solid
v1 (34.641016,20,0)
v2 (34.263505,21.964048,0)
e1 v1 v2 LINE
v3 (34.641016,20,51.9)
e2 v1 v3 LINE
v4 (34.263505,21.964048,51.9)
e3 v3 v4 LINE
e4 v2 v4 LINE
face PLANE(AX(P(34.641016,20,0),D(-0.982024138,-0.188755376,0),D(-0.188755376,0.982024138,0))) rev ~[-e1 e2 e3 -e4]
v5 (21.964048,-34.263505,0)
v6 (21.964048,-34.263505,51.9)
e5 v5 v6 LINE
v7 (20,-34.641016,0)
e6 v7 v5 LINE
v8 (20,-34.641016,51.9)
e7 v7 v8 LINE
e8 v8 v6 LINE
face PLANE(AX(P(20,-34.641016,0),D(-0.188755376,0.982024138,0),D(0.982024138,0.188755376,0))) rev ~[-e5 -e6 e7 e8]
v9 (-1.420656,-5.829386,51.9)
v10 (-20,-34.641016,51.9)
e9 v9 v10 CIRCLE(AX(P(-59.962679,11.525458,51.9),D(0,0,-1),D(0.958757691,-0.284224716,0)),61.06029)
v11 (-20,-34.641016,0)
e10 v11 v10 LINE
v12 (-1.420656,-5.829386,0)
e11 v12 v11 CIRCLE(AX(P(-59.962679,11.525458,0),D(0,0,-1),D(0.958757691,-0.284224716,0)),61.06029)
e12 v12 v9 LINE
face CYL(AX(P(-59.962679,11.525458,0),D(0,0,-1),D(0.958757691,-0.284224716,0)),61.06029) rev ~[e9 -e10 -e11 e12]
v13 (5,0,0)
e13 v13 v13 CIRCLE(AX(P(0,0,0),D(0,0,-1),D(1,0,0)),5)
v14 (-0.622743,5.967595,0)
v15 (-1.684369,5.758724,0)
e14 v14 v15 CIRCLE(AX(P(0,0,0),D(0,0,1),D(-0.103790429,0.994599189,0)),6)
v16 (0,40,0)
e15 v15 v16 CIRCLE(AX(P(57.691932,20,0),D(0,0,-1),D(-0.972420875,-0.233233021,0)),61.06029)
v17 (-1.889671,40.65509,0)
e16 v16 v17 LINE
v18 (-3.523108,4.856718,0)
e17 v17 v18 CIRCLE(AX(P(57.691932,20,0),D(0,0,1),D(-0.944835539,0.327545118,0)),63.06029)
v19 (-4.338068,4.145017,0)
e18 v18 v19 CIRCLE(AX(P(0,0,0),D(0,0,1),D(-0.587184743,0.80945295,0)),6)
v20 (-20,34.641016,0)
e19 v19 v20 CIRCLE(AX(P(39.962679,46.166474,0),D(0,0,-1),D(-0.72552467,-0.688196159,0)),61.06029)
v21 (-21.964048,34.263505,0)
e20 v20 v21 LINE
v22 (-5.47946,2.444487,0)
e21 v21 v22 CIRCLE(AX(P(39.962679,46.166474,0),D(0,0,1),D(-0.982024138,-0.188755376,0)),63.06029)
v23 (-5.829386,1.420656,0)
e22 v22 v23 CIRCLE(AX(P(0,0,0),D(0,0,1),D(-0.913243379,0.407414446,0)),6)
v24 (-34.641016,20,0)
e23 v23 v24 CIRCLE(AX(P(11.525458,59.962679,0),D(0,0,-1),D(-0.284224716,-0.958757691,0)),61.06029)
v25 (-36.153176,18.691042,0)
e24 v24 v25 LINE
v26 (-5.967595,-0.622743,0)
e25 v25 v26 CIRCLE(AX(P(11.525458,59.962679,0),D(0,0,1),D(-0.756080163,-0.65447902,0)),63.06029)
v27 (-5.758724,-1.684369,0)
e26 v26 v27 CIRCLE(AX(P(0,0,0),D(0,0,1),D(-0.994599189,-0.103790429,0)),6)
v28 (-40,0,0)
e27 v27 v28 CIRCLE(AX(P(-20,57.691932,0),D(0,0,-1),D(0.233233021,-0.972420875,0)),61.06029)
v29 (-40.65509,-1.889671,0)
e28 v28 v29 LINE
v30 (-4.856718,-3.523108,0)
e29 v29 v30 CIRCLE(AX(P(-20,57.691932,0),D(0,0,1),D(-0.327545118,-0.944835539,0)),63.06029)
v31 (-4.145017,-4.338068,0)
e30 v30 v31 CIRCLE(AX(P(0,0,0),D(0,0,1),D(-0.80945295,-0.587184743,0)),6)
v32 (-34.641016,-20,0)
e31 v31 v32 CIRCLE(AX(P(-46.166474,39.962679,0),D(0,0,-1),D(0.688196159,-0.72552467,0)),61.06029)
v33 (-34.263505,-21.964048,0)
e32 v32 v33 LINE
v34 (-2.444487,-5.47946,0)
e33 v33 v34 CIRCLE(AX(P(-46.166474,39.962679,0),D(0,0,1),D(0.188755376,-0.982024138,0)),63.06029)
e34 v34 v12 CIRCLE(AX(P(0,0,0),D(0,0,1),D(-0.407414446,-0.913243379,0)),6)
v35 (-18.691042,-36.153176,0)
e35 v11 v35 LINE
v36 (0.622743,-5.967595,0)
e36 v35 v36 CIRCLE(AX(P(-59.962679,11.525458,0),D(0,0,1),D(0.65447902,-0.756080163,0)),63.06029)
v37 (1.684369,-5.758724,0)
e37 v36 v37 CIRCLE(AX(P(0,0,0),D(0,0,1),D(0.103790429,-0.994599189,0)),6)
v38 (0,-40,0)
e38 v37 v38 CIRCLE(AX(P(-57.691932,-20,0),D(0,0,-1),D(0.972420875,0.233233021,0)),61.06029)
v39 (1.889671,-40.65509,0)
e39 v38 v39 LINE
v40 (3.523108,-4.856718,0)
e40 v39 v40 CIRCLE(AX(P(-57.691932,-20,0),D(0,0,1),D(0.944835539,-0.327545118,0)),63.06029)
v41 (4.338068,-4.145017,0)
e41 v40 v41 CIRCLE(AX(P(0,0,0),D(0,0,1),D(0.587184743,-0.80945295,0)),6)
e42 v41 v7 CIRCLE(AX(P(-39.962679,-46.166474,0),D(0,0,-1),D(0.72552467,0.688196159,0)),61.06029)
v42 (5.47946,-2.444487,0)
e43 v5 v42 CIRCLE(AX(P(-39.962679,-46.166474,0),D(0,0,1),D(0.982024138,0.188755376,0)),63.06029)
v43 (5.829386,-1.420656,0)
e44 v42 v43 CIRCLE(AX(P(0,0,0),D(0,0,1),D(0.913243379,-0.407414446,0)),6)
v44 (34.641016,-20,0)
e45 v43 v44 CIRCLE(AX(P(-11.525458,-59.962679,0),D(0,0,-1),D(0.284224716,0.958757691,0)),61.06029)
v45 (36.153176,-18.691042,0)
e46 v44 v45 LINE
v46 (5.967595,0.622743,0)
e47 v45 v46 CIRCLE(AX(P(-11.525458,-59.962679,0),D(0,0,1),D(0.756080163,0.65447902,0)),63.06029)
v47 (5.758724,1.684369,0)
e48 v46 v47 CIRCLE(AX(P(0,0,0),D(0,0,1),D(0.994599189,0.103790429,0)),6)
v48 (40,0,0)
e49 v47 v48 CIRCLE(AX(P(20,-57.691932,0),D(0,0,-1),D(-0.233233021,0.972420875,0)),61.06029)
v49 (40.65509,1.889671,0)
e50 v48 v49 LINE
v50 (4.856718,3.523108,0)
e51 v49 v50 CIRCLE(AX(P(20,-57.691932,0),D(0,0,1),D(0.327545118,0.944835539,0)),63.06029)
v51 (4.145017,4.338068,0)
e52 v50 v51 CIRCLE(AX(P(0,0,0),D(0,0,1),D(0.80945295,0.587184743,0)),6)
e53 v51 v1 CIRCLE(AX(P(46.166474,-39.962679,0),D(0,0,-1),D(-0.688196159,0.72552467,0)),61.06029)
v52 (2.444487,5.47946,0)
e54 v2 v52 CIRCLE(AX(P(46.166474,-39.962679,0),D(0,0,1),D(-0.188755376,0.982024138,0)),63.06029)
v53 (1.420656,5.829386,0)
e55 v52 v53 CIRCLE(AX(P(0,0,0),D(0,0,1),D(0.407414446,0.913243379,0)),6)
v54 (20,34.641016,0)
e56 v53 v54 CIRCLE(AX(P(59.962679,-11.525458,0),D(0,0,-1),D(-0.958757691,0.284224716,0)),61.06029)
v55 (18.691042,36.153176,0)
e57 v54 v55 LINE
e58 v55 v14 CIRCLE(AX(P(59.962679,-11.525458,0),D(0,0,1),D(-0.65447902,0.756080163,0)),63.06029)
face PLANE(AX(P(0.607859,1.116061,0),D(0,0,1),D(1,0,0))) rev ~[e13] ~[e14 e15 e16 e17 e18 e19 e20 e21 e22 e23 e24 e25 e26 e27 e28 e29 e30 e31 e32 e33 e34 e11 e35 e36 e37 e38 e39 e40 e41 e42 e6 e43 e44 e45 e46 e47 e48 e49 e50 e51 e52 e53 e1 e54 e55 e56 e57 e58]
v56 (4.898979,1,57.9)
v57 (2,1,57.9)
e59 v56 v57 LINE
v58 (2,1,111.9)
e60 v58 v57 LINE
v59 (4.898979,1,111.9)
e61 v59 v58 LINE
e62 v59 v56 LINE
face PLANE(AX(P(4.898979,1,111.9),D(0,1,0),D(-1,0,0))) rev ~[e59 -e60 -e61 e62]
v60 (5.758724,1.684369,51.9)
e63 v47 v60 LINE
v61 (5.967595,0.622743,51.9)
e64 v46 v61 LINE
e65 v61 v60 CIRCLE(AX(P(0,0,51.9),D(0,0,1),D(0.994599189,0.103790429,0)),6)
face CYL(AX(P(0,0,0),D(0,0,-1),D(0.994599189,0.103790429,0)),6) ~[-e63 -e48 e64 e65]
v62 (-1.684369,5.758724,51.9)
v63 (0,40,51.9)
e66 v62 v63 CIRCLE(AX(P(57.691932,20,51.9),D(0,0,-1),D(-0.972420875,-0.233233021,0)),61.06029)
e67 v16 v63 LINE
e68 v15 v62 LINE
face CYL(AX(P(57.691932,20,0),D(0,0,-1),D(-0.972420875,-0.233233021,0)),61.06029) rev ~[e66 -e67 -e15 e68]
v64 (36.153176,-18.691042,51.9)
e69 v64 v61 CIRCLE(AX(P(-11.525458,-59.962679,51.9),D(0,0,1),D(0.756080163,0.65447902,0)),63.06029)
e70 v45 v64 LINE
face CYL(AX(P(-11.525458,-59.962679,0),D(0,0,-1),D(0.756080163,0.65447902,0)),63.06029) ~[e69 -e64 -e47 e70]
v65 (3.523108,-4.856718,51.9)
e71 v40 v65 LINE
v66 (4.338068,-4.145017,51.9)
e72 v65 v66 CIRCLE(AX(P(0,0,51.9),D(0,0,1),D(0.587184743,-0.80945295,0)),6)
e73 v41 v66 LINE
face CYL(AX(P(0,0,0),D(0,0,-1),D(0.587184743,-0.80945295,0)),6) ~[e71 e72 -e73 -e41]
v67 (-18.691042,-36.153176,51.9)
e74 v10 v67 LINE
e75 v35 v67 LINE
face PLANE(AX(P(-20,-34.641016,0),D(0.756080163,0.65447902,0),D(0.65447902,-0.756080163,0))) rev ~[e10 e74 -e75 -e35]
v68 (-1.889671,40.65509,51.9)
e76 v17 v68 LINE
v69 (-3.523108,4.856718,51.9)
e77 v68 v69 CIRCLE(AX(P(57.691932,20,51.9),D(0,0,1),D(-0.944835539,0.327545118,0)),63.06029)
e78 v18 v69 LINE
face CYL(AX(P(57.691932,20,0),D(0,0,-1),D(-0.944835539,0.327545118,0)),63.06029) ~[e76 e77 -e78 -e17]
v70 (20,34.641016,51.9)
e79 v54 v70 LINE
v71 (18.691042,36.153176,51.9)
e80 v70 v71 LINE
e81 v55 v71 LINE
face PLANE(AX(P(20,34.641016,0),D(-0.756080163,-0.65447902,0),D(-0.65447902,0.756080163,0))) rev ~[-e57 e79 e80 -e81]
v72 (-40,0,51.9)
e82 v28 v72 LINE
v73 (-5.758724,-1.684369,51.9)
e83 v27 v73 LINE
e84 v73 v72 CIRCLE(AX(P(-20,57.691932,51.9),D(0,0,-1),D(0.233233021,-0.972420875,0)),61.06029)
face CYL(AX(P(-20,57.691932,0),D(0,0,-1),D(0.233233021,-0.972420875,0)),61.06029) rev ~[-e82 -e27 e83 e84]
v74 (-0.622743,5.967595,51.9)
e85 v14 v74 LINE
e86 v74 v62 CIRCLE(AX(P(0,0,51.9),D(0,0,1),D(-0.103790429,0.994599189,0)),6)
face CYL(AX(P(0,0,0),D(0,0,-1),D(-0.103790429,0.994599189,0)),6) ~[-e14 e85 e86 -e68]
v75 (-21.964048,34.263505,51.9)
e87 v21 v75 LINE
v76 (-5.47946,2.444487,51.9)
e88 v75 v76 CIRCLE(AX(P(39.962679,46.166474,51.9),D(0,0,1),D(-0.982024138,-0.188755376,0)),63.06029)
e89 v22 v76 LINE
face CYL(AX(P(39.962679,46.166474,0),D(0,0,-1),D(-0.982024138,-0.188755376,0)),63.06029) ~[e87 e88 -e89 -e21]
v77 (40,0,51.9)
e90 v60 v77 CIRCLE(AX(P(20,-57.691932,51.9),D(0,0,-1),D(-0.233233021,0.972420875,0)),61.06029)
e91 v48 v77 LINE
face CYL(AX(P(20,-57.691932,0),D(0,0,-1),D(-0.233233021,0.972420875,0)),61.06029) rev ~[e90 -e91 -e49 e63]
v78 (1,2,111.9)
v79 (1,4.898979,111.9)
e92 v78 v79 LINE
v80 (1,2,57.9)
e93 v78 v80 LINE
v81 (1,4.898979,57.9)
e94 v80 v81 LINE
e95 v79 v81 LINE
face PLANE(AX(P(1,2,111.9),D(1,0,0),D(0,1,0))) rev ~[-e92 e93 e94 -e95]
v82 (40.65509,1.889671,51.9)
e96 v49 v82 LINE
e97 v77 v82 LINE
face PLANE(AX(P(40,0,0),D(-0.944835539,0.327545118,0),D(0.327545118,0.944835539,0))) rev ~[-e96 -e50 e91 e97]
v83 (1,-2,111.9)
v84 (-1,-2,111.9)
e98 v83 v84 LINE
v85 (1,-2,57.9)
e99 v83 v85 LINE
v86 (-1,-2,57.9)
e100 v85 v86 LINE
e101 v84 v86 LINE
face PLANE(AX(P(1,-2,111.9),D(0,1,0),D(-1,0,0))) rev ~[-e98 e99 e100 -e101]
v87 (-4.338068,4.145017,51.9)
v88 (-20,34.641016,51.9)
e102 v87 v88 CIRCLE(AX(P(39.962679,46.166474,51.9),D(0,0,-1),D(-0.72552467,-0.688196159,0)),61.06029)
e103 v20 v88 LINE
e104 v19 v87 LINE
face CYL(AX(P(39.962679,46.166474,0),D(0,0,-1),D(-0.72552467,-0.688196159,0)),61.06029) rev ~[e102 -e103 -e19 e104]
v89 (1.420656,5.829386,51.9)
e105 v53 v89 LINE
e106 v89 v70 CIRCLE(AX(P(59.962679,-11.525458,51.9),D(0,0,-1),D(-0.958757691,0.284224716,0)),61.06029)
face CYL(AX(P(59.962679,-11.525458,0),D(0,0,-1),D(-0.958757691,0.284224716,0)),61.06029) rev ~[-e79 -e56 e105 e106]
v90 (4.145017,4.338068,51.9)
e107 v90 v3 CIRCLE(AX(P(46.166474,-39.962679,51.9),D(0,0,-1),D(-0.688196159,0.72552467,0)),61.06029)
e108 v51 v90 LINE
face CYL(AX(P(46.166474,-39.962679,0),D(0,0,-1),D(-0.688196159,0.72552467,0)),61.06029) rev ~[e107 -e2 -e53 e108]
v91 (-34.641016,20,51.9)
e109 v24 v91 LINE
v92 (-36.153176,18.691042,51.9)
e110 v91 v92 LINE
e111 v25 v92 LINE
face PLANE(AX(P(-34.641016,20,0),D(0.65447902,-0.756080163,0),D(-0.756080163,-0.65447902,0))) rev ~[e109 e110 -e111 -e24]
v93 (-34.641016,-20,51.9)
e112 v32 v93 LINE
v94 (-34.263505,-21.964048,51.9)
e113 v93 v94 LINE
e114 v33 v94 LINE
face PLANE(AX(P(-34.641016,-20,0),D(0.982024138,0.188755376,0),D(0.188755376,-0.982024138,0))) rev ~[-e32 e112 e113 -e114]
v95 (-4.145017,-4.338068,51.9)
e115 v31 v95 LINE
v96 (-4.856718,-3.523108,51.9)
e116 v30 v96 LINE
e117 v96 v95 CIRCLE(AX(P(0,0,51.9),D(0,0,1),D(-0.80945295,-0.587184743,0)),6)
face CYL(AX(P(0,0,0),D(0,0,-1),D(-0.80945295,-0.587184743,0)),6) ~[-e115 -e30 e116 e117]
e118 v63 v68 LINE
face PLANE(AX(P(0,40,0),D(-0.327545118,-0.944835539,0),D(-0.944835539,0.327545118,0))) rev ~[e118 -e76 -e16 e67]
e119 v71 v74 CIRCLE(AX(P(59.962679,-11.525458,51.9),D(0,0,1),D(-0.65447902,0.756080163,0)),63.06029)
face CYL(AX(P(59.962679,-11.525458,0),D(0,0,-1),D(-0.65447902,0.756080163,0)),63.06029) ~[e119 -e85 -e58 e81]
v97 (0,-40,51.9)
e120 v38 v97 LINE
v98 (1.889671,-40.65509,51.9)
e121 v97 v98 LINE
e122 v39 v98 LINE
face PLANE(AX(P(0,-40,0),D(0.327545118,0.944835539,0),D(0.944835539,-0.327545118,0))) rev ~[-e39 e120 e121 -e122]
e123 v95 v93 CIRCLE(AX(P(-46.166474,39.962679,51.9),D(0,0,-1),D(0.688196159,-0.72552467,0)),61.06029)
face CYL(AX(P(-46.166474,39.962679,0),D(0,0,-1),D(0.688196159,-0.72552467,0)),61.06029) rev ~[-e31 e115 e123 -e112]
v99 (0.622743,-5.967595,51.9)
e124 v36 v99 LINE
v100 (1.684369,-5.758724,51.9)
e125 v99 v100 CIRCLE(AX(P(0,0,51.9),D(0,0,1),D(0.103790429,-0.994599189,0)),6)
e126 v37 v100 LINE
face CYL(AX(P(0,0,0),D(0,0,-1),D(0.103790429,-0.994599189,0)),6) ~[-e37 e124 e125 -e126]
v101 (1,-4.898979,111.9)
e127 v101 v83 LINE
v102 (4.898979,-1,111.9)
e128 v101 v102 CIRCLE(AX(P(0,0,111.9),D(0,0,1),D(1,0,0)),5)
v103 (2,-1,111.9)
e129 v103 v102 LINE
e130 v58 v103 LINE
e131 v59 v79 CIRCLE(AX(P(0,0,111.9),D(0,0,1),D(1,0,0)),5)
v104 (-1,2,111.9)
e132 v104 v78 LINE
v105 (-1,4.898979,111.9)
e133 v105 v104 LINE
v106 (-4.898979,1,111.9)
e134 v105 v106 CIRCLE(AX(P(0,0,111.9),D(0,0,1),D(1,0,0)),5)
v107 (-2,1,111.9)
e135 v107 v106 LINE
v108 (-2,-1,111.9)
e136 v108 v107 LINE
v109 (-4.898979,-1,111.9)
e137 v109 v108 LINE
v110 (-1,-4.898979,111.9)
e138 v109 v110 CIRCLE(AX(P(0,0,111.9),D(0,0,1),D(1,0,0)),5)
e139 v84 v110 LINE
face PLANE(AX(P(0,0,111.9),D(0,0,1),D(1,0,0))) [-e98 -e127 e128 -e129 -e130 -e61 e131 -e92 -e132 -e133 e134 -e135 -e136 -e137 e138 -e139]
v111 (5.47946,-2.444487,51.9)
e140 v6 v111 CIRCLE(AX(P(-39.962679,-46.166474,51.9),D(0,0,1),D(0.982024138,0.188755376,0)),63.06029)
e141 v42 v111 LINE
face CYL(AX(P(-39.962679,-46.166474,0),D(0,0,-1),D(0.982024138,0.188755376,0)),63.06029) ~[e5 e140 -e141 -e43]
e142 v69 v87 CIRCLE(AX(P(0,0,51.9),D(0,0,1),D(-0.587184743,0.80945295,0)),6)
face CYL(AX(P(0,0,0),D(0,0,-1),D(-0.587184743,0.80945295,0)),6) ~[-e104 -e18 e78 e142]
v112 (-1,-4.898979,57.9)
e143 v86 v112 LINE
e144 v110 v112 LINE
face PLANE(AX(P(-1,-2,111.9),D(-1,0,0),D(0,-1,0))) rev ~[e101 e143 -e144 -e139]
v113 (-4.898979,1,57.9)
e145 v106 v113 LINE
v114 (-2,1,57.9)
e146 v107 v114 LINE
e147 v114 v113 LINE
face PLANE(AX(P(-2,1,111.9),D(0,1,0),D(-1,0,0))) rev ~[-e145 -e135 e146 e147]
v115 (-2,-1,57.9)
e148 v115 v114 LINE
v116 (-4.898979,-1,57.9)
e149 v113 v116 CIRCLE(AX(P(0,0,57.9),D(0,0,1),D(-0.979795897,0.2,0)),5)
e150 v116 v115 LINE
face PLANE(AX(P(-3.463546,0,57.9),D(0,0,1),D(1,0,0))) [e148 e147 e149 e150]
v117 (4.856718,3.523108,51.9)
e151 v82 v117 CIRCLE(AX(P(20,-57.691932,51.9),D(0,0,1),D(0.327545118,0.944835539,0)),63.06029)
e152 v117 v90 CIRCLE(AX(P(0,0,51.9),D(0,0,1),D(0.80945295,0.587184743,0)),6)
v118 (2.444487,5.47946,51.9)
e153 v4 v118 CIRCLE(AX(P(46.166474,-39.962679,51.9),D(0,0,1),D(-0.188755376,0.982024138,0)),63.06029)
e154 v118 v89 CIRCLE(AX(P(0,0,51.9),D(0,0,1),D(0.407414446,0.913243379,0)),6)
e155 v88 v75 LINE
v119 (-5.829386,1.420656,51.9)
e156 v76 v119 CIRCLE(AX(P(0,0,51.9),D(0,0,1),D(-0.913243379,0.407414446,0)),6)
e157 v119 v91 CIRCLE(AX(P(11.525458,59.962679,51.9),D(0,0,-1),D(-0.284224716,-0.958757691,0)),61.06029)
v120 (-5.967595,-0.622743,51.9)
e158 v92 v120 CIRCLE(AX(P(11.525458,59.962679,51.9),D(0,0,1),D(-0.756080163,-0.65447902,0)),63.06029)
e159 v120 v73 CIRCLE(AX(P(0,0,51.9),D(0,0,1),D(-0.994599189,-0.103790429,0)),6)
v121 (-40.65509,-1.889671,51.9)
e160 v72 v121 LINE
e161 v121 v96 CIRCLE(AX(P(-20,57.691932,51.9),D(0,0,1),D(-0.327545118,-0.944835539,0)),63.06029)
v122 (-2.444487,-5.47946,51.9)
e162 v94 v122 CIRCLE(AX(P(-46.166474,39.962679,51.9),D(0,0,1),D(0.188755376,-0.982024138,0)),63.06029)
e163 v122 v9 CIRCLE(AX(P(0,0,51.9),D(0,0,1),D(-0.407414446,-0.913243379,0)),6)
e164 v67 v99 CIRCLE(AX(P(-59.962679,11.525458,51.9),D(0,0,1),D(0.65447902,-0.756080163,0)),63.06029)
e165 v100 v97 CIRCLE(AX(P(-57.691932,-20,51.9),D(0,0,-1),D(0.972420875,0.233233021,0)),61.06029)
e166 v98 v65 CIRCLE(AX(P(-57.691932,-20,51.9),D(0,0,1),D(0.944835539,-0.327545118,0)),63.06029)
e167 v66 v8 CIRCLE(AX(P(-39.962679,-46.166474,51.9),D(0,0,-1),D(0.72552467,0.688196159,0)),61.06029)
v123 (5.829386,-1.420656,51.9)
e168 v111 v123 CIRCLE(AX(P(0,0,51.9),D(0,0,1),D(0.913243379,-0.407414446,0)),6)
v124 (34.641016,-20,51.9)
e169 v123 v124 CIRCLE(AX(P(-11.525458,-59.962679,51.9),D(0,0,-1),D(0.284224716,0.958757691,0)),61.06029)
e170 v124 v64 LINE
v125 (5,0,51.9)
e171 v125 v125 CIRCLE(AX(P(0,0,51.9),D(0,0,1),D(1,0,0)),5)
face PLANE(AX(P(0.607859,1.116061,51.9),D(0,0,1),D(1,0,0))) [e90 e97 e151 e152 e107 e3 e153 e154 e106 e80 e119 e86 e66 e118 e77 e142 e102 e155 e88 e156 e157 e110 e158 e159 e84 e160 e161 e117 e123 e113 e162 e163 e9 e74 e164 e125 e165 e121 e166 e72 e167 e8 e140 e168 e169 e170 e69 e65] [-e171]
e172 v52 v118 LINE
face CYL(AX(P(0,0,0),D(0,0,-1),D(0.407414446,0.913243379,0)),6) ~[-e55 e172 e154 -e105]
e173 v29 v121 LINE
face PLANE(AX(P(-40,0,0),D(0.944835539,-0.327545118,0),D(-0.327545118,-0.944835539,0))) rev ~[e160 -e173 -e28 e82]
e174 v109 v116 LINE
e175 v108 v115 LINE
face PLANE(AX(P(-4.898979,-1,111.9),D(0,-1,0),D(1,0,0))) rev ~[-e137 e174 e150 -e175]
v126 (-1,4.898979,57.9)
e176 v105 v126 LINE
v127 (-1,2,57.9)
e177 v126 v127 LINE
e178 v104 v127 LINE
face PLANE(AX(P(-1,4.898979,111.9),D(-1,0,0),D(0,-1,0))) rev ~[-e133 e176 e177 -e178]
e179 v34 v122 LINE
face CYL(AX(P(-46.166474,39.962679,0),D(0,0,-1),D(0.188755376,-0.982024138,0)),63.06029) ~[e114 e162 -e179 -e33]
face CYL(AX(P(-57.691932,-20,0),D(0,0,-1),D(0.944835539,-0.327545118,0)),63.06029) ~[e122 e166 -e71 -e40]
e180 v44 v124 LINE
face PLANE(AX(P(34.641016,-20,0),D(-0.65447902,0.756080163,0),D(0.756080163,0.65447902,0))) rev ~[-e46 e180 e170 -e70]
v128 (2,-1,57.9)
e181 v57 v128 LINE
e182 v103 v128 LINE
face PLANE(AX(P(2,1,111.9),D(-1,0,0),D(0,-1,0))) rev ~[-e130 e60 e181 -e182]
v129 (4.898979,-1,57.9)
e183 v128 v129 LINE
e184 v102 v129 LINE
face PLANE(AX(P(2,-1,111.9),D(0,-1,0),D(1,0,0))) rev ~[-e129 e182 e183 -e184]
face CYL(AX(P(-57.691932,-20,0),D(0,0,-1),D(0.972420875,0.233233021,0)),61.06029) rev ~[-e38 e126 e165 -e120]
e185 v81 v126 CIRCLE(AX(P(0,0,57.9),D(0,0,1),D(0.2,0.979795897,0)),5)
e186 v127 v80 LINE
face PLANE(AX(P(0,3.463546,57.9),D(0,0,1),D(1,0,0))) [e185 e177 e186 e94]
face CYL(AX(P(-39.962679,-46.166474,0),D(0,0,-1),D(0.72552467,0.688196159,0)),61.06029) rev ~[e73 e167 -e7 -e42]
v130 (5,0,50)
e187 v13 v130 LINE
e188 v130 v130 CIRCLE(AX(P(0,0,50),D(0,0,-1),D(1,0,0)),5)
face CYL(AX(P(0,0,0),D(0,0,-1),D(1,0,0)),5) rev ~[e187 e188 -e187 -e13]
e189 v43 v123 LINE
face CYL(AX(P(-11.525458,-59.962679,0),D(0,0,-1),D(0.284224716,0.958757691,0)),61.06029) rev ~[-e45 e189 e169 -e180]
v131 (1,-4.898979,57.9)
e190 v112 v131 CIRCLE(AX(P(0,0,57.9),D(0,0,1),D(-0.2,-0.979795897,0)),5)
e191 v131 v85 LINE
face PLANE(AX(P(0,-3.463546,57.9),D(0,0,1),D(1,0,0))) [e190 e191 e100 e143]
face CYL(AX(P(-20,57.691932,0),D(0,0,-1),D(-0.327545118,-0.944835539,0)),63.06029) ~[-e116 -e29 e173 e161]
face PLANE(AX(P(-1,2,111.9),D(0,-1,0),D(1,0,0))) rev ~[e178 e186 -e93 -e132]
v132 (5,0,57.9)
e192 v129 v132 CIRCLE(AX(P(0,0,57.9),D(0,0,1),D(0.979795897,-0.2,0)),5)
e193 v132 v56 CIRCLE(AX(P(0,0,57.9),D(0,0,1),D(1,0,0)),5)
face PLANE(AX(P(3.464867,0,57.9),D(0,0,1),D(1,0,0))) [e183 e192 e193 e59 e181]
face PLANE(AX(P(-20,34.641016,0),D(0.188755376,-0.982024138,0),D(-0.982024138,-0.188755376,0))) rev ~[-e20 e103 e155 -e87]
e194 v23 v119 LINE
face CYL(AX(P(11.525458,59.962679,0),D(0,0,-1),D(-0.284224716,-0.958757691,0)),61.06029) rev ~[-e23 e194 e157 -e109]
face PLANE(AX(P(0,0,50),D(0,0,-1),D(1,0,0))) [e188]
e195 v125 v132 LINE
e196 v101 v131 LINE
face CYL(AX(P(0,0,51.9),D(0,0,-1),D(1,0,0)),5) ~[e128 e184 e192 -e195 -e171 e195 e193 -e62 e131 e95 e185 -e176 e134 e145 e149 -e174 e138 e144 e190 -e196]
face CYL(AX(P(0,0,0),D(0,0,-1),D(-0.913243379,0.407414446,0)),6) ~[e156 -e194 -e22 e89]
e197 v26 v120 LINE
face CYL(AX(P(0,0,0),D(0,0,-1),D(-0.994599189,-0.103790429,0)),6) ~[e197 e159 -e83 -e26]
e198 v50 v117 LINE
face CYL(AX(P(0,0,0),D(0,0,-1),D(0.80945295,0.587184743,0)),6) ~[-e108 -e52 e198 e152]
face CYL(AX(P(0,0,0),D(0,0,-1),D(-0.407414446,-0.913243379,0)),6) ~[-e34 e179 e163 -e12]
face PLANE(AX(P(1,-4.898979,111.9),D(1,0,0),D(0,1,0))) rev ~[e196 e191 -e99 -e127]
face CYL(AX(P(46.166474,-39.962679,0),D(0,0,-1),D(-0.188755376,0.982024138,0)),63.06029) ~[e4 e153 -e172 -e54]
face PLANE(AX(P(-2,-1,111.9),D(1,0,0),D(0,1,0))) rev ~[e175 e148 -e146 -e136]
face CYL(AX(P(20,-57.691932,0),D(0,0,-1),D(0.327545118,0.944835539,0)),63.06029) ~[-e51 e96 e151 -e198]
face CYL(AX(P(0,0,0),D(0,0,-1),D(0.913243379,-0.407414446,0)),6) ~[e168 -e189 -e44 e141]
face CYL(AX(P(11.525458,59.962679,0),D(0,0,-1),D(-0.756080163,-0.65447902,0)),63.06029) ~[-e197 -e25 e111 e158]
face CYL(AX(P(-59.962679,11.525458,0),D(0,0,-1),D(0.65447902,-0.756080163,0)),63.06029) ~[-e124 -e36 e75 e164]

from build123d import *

# Parameters (mm, degrees)
F1_DEPTH = 51.9
F2_R     = 5
F3_DEPTH = 50
F4_R     = 5
F5_DEPTH = 60
F7_DEPTH = 54


with BuildPart() as f1:
    # F0 (on Top) → F1 (new body)
    with BuildSketch(Plane.XY):
        with BuildLine():
            ThreePointArc((1.3337239415, 1.4907111791), (1.4431608729, 1.6087570846), (1.5529086216, 1.7265140778))
            ThreePointArc((1.5529086216, 1.7265140778), (0.9818308126, 1.8448281713), (0.4096832255, 1.9578557215))
            ThreePointArc((0.4096832255, 1.9578557215), (0.1968239575, 0.980605563), (0, 0))
            ThreePointArc((0, 0), (0.6607573288, 0.7508173499), (1.3337239415, 1.4907111791))
        make_face()
        with BuildLine():
            ThreePointArc((1.9003944045, 0.62413178), (2.05419252, 0.6716440673), (2.2081153549, 0.7187507406))
            ThreePointArc((2.2081153549, 0.7187507406), (1.7727045116, 1.1067526557), (1.3337239415, 1.4907111791))
            ThreePointArc((1.3337239415, 1.4907111791), (0.6607573288, 0.7508173499), (0, 0))
            ThreePointArc((0, 0), (0.9476413074, 0.3198482342), (1.9003944045, 0.62413178))
        make_face()
        with BuildLine():
            ThreePointArc((1.9578557215, -0.4096832255), (2.1148049403, -0.4454354354), (2.2716593622, -0.4816012771))
            ThreePointArc((2.2716593622, -0.4816012771), (2.0885834683, 0.0721236597), (1.9003944045, 0.62413178))
            ThreePointArc((1.9003944045, 0.62413178), (0.9476413074, 0.3198482342), (0, 0))
            ThreePointArc((0, 0), (0.980605563, -0.1968239575), (1.9578557215, -0.4096832255))
        make_face()
        with BuildLine():
            ThreePointArc((1.7265140778, -1.5529086216), (1.8448281713, -0.9818308126), (1.9578557215, -0.4096832255))
            ThreePointArc((1.9578557215, -0.4096832255), (0.980605563, -0.1968239575), (0, 0))
            ThreePointArc((0, 0), (0.7508173499, -0.6607573288), (1.4907111791, -1.3337239415))
            ThreePointArc((1.4907111791, -1.3337239415), (1.6087570846, -1.4431608729), (1.7265140778, -1.5529086216))
        make_face()
        with BuildLine():
            ThreePointArc((1.4907111791, -1.3337239415), (0.7508173499, -0.6607573288), (0, 0))
            ThreePointArc((0, 0), (0.3198482342, -0.9476413074), (0.62413178, -1.9003944045))
            ThreePointArc((0.62413178, -1.9003944045), (0.6716440673, -2.05419252), (0.7187507406, -2.2081153549))
            ThreePointArc((0.7187507406, -2.2081153549), (1.1067526557, -1.7727045116), (1.4907111791, -1.3337239415))
        make_face()
        with BuildLine():
            ThreePointArc((0.62413178, -1.9003944045), (0.3198482342, -0.9476413074), (0, 0))
            ThreePointArc((0, 0), (-0.1968239575, -0.980605563), (-0.4096832255, -1.9578557215))
            ThreePointArc((-0.4096832255, -1.9578557215), (-0.4454354354, -2.1148049403), (-0.4816012771, -2.2716593622))
            ThreePointArc((-0.4816012771, -2.2716593622), (0.0721236597, -2.0885834683), (0.62413178, -1.9003944045))
        make_face()
        with BuildLine():
            ThreePointArc((-0.4096832255, -1.9578557215), (-0.1968239575, -0.980605563), (0, 0))
            ThreePointArc((0, 0), (-0.6607573288, -0.7508173499), (-1.3337239415, -1.4907111791))
            ThreePointArc((-1.3337239415, -1.4907111791), (-1.4431608729, -1.6087570846), (-1.5529086216, -1.7265140778))
            ThreePointArc((-1.5529086216, -1.7265140778), (-0.9818308126, -1.8448281713), (-0.4096832255, -1.9578557215))
        make_face()
        with BuildLine():
            ThreePointArc((-1.3337239415, -1.4907111791), (-0.6607573288, -0.7508173499), (0, 0))
            ThreePointArc((0, 0), (-0.9476413074, -0.3198482342), (-1.9003944045, -0.62413178))
            ThreePointArc((-1.9003944045, -0.62413178), (-2.05419252, -0.6716440673), (-2.2081153549, -0.7187507406))
            ThreePointArc((-2.2081153549, -0.7187507406), (-1.7727045116, -1.1067526557), (-1.3337239415, -1.4907111791))
        make_face()
        with BuildLine():
            ThreePointArc((-1.9003944045, -0.62413178), (-0.9476413074, -0.3198482342), (0, 0))
            ThreePointArc((0, 0), (-0.980605563, 0.1968239575), (-1.9578557215, 0.4096832255))
            ThreePointArc((-1.9578557215, 0.4096832255), (-2.1148049403, 0.4454354354), (-2.2716593622, 0.4816012771))
            ThreePointArc((-2.2716593622, 0.4816012771), (-2.0885834683, -0.0721236597), (-1.9003944045, -0.62413178))
        make_face()
        with BuildLine():
            ThreePointArc((-1.9578557215, 0.4096832255), (-0.980605563, 0.1968239575), (0, 0))
            ThreePointArc((0, 0), (-0.7508173499, 0.6607573288), (-1.4907111791, 1.3337239415))
            ThreePointArc((-1.4907111791, 1.3337239415), (-1.6087570846, 1.4431608729), (-1.7265140778, 1.5529086216))
            ThreePointArc((-1.7265140778, 1.5529086216), (-1.8448281713, 0.9818308126), (-1.9578557215, 0.4096832255))
        make_face()
        with BuildLine():
            ThreePointArc((-1.4907111791, 1.3337239415), (-0.7508173499, 0.6607573288), (0, 0))
            ThreePointArc((0, 0), (-0.3198482342, 0.9476413074), (-0.62413178, 1.9003944045))
            ThreePointArc((-0.62413178, 1.9003944045), (-0.6716440673, 2.05419252), (-0.7187507406, 2.2081153549))
            ThreePointArc((-0.7187507406, 2.2081153549), (-1.1067526557, 1.7727045116), (-1.4907111791, 1.3337239415))
        make_face()
        with BuildLine():
            ThreePointArc((0, 0), (0.1968239575, 0.980605563), (0.4096832255, 1.9578557215))
            ThreePointArc((0.4096832255, 1.9578557215), (0.4454354354, 2.1148049403), (0.4816012771, 2.2716593622))
            ThreePointArc((0.4816012771, 2.2716593622), (-0.0721236597, 2.0885834683), (-0.62413178, 1.9003944045))
            ThreePointArc((-0.62413178, 1.9003944045), (-0.3198482342, 0.9476413074), (0, 0))
        make_face()
        with BuildLine():
            ThreePointArc((-0.62413178, 1.9003944045), (-0.0721236597, 2.0885834683), (0.4816012771, 2.2716593622))
            ThreePointArc((0.4816012771, 2.2716593622), (0.6806785767, 3.1033997904), (0.8913857306, 3.9322703511))
            ThreePointArc((0.8913857306, 3.9322703511), (0.0782542347, 3.0777228892), (-0.7187507406, 2.2081153549))
            ThreePointArc((-0.7187507406, 2.2081153549), (-0.6716440673, 2.05419252), (-0.62413178, 1.9003944045))
        make_face()
        with BuildLine():
            ThreePointArc((0.4096832255, 1.9578557215), (0.9818308126, 1.8448281713), (1.5529086216, 1.7265140778))
            ThreePointArc((1.5529086216, 1.7265140778), (2.1411848344, 2.3472837682), (2.7380978628, 2.9597531533))
            ThreePointArc((2.7380978628, 2.9597531533), (1.6066315998, 2.6262590905), (0.4816012771, 2.2716593622))
            ThreePointArc((0.4816012771, 2.2716593622), (0.4454354354, 2.1148049403), (0.4096832255, 1.9578557215))
        make_face()
        with BuildLine():
            ThreePointArc((2.2081153549, 0.7187507406), (3.0279623449, 0.9622149559), (3.8511388839, 1.1941724883))
            ThreePointArc((3.8511388839, 1.1941724883), (2.7045133252, 1.4710912894), (1.5529086216, 1.7265140778))
            ThreePointArc((1.5529086216, 1.7265140778), (1.4431608729, 1.6087570846), (1.3337239415, 1.4907111791))
            ThreePointArc((1.3337239415, 1.4907111791), (1.7727045116, 1.1067526557), (2.2081153549, 0.7187507406))
        make_face()
        with BuildLine():
            ThreePointArc((5.8293856058, -1.4206559961), (5.9571937032, -0.715432165), (6, 0))
            ThreePointArc((6, 0), (5.991893307, 0.311792555), (5.9675951342, 0.6227425745))
            ThreePointArc((5.9675951342, 0.6227425745), (4.9118503598, 0.9176553403), (3.8511388839, 1.1941724883))
            ThreePointArc((3.8511388839, 1.1941724883), (3.0279623449, 0.9622149559), (2.2081153549, 0.7187507406))
            ThreePointArc((2.2081153549, 0.7187507406), (3.0777228892, -0.0782542347), (3.9322703511, -0.8913857306))
            ThreePointArc((3.9322703511, -0.8913857306), (4.882962136, -1.1483711934), (5.8293856058, -1.4206559961))
        make_face()
        with BuildLine():
            ThreePointArc((2.2716593622, -0.4816012771), (3.1033997904, -0.6806785767), (3.9322703511, -0.8913857306))
            ThreePointArc((3.9322703511, -0.8913857306), (3.0777228892, -0.0782542347), (2.2081153549, 0.7187507406))
            ThreePointArc((2.2081153549, 0.7187507406), (2.05419252, 0.6716440673), (1.9003944045, 0.62413178))
            ThreePointArc((1.9003944045, 0.62413178), (2.0885834683, 0.0721236597), (2.2716593622, -0.4816012771))
        make_face()
        with BuildLine():
            ThreePointArc((3.8511388839, 1.1941724883), (4.8029548522, 1.4469624415), (5.7587240211, 1.6843686202))
            ThreePointArc((5.7587240211, 1.6843686202), (5.3867561456, 2.642509835), (4.8567176985, 3.5231084567))
            ThreePointArc((4.8567176985, 3.5231084567), (3.794959521, 3.2506380165), (2.7380978628, 2.9597531533))
            ThreePointArc((2.7380978628, 2.9597531533), (2.1411848344, 2.3472837682), (1.5529086216, 1.7265140778))
            ThreePointArc((1.5529086216, 1.7265140778), (2.7045133252, 1.4710912894), (3.8511388839, 1.1941724883))
        make_face()
        with BuildLine():
            ThreePointArc((2.7380978628, 2.9597531533), (3.4359996944, 3.6545836588), (4.1450169856, 4.338068025))
            ThreePointArc((4.1450169856, 4.338068025), (3.3438127486, 4.9818587196), (2.4444866775, 5.479460273))
            ThreePointArc((2.4444866775, 5.479460273), (1.6612123432, 4.7126148613), (0.8913857306, 3.9322703511))
            ThreePointArc((0.8913857306, 3.9322703511), (0.6806785767, 3.1033997904), (0.4816012771, 2.2716593622))
            ThreePointArc((0.4816012771, 2.2716593622), (1.6066315998, 2.6262590905), (2.7380978628, 2.9597531533))
        make_face()
        with BuildLine():
            ThreePointArc((4.338068025, -4.1450169856), (4.9818587196, -3.3438127486), (5.479460273, -2.4444866775))
            ThreePointArc((5.479460273, -2.4444866775), (4.7126148613, -1.6612123432), (3.9322703511, -0.8913857306))
            ThreePointArc((3.9322703511, -0.8913857306), (3.1033997904, -0.6806785767), (2.2716593622, -0.4816012771))
            ThreePointArc((2.2716593622, -0.4816012771), (2.6262590905, -1.6066315998), (2.9597531533, -2.7380978628))
            ThreePointArc((2.9597531533, -2.7380978628), (3.6545836588, -3.4359996944), (4.338068025, -4.1450169856))
        make_face()
        with BuildLine():
            ThreePointArc((2.9597531533, -2.7380978628), (2.6262590905, -1.6066315998), (2.2716593622, -0.4816012771))
            ThreePointArc((2.2716593622, -0.4816012771), (2.1148049403, -0.4454354354), (1.9578557215, -0.4096832255))
            ThreePointArc((1.9578557215, -0.4096832255), (1.8448281713, -0.9818308126), (1.7265140778, -1.5529086216))
            ThreePointArc((1.7265140778, -1.5529086216), (2.3472837682, -2.1411848344), (2.9597531533, -2.7380978628))
        make_face()
        with BuildLine():
            ThreePointArc((1.6843686202, -5.7587240211), (2.642509835, -5.3867561456), (3.5231084567, -4.8567176985))
            ThreePointArc((3.5231084567, -4.8567176985), (3.2506380165, -3.794959521), (2.9597531533, -2.7380978628))
            ThreePointArc((2.9597531533, -2.7380978628), (2.3472837682, -2.1411848344), (1.7265140778, -1.5529086216))
            ThreePointArc((1.7265140778, -1.5529086216), (1.4710912894, -2.7045133252), (1.1941724883, -3.8511388839))
            ThreePointArc((1.1941724883, -3.8511388839), (1.4469624415, -4.8029548522), (1.6843686202, -5.7587240211))
        make_face()
        with BuildLine():
            ThreePointArc((1.1941724883, -3.8511388839), (1.4710912894, -2.7045133252), (1.7265140778, -1.5529086216))
            ThreePointArc((1.7265140778, -1.5529086216), (1.6087570846, -1.4431608729), (1.4907111791, -1.3337239415))
            ThreePointArc((1.4907111791, -1.3337239415), (1.1067526557, -1.7727045116), (0.7187507406, -2.2081153549))
            ThreePointArc((0.7187507406, -2.2081153549), (0.9622149559, -3.0279623449), (1.1941724883, -3.8511388839))
        make_face()
        with BuildLine():
            ThreePointArc((-1.4206559961, -5.8293856058), (-0.4048974259, -5.9863225836), (0.6227425745, -5.9675951342))
            ThreePointArc((0.6227425745, -5.9675951342), (0.9176553403, -4.9118503598), (1.1941724883, -3.8511388839))
            ThreePointArc((1.1941724883, -3.8511388839), (0.9622149559, -3.0279623449), (0.7187507406, -2.2081153549))
            ThreePointArc((0.7187507406, -2.2081153549), (-0.0782542347, -3.0777228892), (-0.8913857306, -3.9322703511))
            ThreePointArc((-0.8913857306, -3.9322703511), (-1.1483711934, -4.882962136), (-1.4206559961, -5.8293856058))
        make_face()
        with BuildLine():
            ThreePointArc((0.7187507406, -2.2081153549), (0.6716440673, -2.05419252), (0.62413178, -1.9003944045))
            ThreePointArc((0.62413178, -1.9003944045), (0.0721236597, -2.0885834683), (-0.4816012771, -2.2716593622))
            ThreePointArc((-0.4816012771, -2.2716593622), (-0.6806785767, -3.1033997904), (-0.8913857306, -3.9322703511))
            ThreePointArc((-0.8913857306, -3.9322703511), (-0.0782542347, -3.0777228892), (0.7187507406, -2.2081153549))
        make_face()
        with BuildLine():
            ThreePointArc((-0.8913857306, -3.9322703511), (-0.6806785767, -3.1033997904), (-0.4816012771, -2.2716593622))
            ThreePointArc((-0.4816012771, -2.2716593622), (-1.6066315998, -2.6262590905), (-2.7380978628, -2.9597531533))
            ThreePointArc((-2.7380978628, -2.9597531533), (-3.4359996944, -3.6545836588), (-4.1450169856, -4.338068025))
            ThreePointArc((-4.1450169856, -4.338068025), (-3.3438127486, -4.9818587196), (-2.4444866775, -5.479460273))
            ThreePointArc((-2.4444866775, -5.479460273), (-1.6612123432, -4.7126148613), (-0.8913857306, -3.9322703511))
        make_face()
        with BuildLine():
            ThreePointArc((-0.4816012771, -2.2716593622), (-0.4454354354, -2.1148049403), (-0.4096832255, -1.9578557215))
            ThreePointArc((-0.4096832255, -1.9578557215), (-0.9818308126, -1.8448281713), (-1.5529086216, -1.7265140778))
            ThreePointArc((-1.5529086216, -1.7265140778), (-2.1411848344, -2.3472837682), (-2.7380978628, -2.9597531533))
            ThreePointArc((-2.7380978628, -2.9597531533), (-1.6066315998, -2.6262590905), (-0.4816012771, -2.2716593622))
        make_face()
        with BuildLine():
            ThreePointArc((-2.7380978628, -2.9597531533), (-2.1411848344, -2.3472837682), (-1.5529086216, -1.7265140778))
            ThreePointArc((-1.5529086216, -1.7265140778), (-2.7045133252, -1.4710912894), (-3.8511388839, -1.1941724883))
            ThreePointArc((-3.8511388839, -1.1941724883), (-4.8029548522, -1.4469624415), (-5.7587240211, -1.6843686202))
            ThreePointArc((-5.7587240211, -1.6843686202), (-5.3867561456, -2.642509835), (-4.8567176985, -3.5231084567))
            ThreePointArc((-4.8567176985, -3.5231084567), (-3.794959521, -3.2506380165), (-2.7380978628, -2.9597531533))
        make_face()
        with BuildLine():
            ThreePointArc((-1.5529086216, -1.7265140778), (-1.4431608729, -1.6087570846), (-1.3337239415, -1.4907111791))
            ThreePointArc((-1.3337239415, -1.4907111791), (-1.7727045116, -1.1067526557), (-2.2081153549, -0.7187507406))
            ThreePointArc((-2.2081153549, -0.7187507406), (-3.0279623449, -0.9622149559), (-3.8511388839, -1.1941724883))
            ThreePointArc((-3.8511388839, -1.1941724883), (-2.7045133252, -1.4710912894), (-1.5529086216, -1.7265140778))
        make_face()
        with BuildLine():
            ThreePointArc((-3.8511388839, -1.1941724883), (-3.0279623449, -0.9622149559), (-2.2081153549, -0.7187507406))
            ThreePointArc((-2.2081153549, -0.7187507406), (-3.0777228892, 0.0782542347), (-3.9322703511, 0.8913857306))
            ThreePointArc((-3.9322703511, 0.8913857306), (-4.882962136, 1.1483711934), (-5.8293856058, 1.4206559961))
            ThreePointArc((-5.8293856058, 1.4206559961), (-5.9863225836, 0.4048974259), (-5.9675951342, -0.6227425745))
            ThreePointArc((-5.9675951342, -0.6227425745), (-4.9118503598, -0.9176553403), (-3.8511388839, -1.1941724883))
        make_face()
        with BuildLine():
            ThreePointArc((-2.2081153549, -0.7187507406), (-2.05419252, -0.6716440673), (-1.9003944045, -0.62413178))
            ThreePointArc((-1.9003944045, -0.62413178), (-2.0885834683, -0.0721236597), (-2.2716593622, 0.4816012771))
            ThreePointArc((-2.2716593622, 0.4816012771), (-3.1033997904, 0.6806785767), (-3.9322703511, 0.8913857306))
            ThreePointArc((-3.9322703511, 0.8913857306), (-3.0777228892, 0.0782542347), (-2.2081153549, -0.7187507406))
        make_face()
        with BuildLine():
            ThreePointArc((-3.9322703511, 0.8913857306), (-3.1033997904, 0.6806785767), (-2.2716593622, 0.4816012771))
            ThreePointArc((-2.2716593622, 0.4816012771), (-2.6262590905, 1.6066315998), (-2.9597531533, 2.7380978628))
            ThreePointArc((-2.9597531533, 2.7380978628), (-3.6545836588, 3.4359996944), (-4.338068025, 4.1450169856))
            ThreePointArc((-4.338068025, 4.1450169856), (-4.9818587196, 3.3438127486), (-5.479460273, 2.4444866775))
            ThreePointArc((-5.479460273, 2.4444866775), (-4.7126148613, 1.6612123432), (-3.9322703511, 0.8913857306))
        make_face()
        with BuildLine():
            ThreePointArc((-2.2716593622, 0.4816012771), (-2.1148049403, 0.4454354354), (-1.9578557215, 0.4096832255))
            ThreePointArc((-1.9578557215, 0.4096832255), (-1.8448281713, 0.9818308126), (-1.7265140778, 1.5529086216))
            ThreePointArc((-1.7265140778, 1.5529086216), (-2.3472837682, 2.1411848344), (-2.9597531533, 2.7380978628))
            ThreePointArc((-2.9597531533, 2.7380978628), (-2.6262590905, 1.6066315998), (-2.2716593622, 0.4816012771))
        make_face()
        with BuildLine():
            ThreePointArc((-2.9597531533, 2.7380978628), (-2.3472837682, 2.1411848344), (-1.7265140778, 1.5529086216))
            ThreePointArc((-1.7265140778, 1.5529086216), (-1.4710912894, 2.7045133252), (-1.1941724883, 3.8511388839))
            ThreePointArc((-1.1941724883, 3.8511388839), (-1.4469624415, 4.8029548522), (-1.6843686202, 5.7587240211))
            ThreePointArc((-1.6843686202, 5.7587240211), (-2.642509835, 5.3867561456), (-3.5231084567, 4.8567176985))
            ThreePointArc((-3.5231084567, 4.8567176985), (-3.2506380165, 3.794959521), (-2.9597531533, 2.7380978628))
        make_face()
        with BuildLine():
            ThreePointArc((-1.7265140778, 1.5529086216), (-1.6087570846, 1.4431608729), (-1.4907111791, 1.3337239415))
            ThreePointArc((-1.4907111791, 1.3337239415), (-1.1067526557, 1.7727045116), (-0.7187507406, 2.2081153549))
            ThreePointArc((-0.7187507406, 2.2081153549), (-0.9622149559, 3.0279623449), (-1.1941724883, 3.8511388839))
            ThreePointArc((-1.1941724883, 3.8511388839), (-1.4710912894, 2.7045133252), (-1.7265140778, 1.5529086216))
        make_face()
        with BuildLine():
            ThreePointArc((0.8913857306, 3.9322703511), (1.1483711934, 4.882962136), (1.4206559961, 5.8293856058))
            ThreePointArc((1.4206559961, 5.8293856058), (0.4048974259, 5.9863225836), (-0.6227425745, 5.9675951342))
            ThreePointArc((-0.6227425745, 5.9675951342), (-0.9176553403, 4.9118503598), (-1.1941724883, 3.8511388839))
            ThreePointArc((-1.1941724883, 3.8511388839), (-0.9622149559, 3.0279623449), (-0.7187507406, 2.2081153549))
            ThreePointArc((-0.7187507406, 2.2081153549), (0.0782542347, 3.0777228892), (0.8913857306, 3.9322703511))
        make_face()
        with BuildLine():
            ThreePointArc((0.8913857306, 3.9322703511), (1.6612123432, 4.7126148613), (2.4444866775, 5.479460273))
            ThreePointArc((2.4444866775, 5.479460273), (1.9404751755, 5.6775484228), (1.4206559961, 5.8293856058))
            ThreePointArc((1.4206559961, 5.8293856058), (1.1483711934, 4.882962136), (0.8913857306, 3.9322703511))
        make_face()
        with BuildLine():
            ThreePointArc((2.7380978628, 2.9597531533), (3.794959521, 3.2506380165), (4.8567176985, 3.5231084567))
            ThreePointArc((4.8567176985, 3.5231084567), (4.5192750088, 3.9466635776), (4.1450169856, 4.338068025))
            ThreePointArc((4.1450169856, 4.338068025), (3.4359996944, 3.6545836588), (2.7380978628, 2.9597531533))
        make_face()
        with BuildLine():
            ThreePointArc((3.8511388839, 1.1941724883), (4.9118503598, 0.9176553403), (5.9675951342, 0.6227425745))
            ThreePointArc((5.9675951342, 0.6227425745), (5.8871387531, 1.158273414), (5.7587240211, 1.6843686202))
            ThreePointArc((5.7587240211, 1.6843686202), (4.8029548522, 1.4469624415), (3.8511388839, 1.1941724883))
        make_face()
        with BuildLine():
            ThreePointArc((5.479460273, -2.4444866775), (5.6775484228, -1.9404751755), (5.8293856058, -1.4206559961))
            ThreePointArc((5.8293856058, -1.4206559961), (4.882962136, -1.1483711934), (3.9322703511, -0.8913857306))
            ThreePointArc((3.9322703511, -0.8913857306), (4.7126148613, -1.6612123432), (5.479460273, -2.4444866775))
        make_face()
        with BuildLine():
            ThreePointArc((3.5231084567, -4.8567176985), (3.9466635776, -4.5192750088), (4.338068025, -4.1450169856))
            ThreePointArc((4.338068025, -4.1450169856), (3.6545836588, -3.4359996944), (2.9597531533, -2.7380978628))
            ThreePointArc((2.9597531533, -2.7380978628), (3.2506380165, -3.794959521), (3.5231084567, -4.8567176985))
        make_face()
        with BuildLine():
            ThreePointArc((0.6227425745, -5.9675951342), (1.158273414, -5.8871387531), (1.6843686202, -5.7587240211))
            ThreePointArc((1.6843686202, -5.7587240211), (1.4469624415, -4.8029548522), (1.1941724883, -3.8511388839))
            ThreePointArc((1.1941724883, -3.8511388839), (0.9176553403, -4.9118503598), (0.6227425745, -5.9675951342))
        make_face()
        with BuildLine():
            ThreePointArc((-2.4444866775, -5.479460273), (-1.9404751755, -5.6775484228), (-1.4206559961, -5.8293856058))
            ThreePointArc((-1.4206559961, -5.8293856058), (-1.1483711934, -4.882962136), (-0.8913857306, -3.9322703511))
            ThreePointArc((-0.8913857306, -3.9322703511), (-1.6612123432, -4.7126148613), (-2.4444866775, -5.479460273))
        make_face()
        with BuildLine():
            ThreePointArc((-4.1450169856, -4.338068025), (-3.4359996944, -3.6545836588), (-2.7380978628, -2.9597531533))
            ThreePointArc((-2.7380978628, -2.9597531533), (-3.794959521, -3.2506380165), (-4.8567176985, -3.5231084567))
            ThreePointArc((-4.8567176985, -3.5231084567), (-4.5192750088, -3.9466635776), (-4.1450169856, -4.338068025))
        make_face()
        with BuildLine():
            ThreePointArc((-5.7587240211, -1.6843686202), (-4.8029548522, -1.4469624415), (-3.8511388839, -1.1941724883))
            ThreePointArc((-3.8511388839, -1.1941724883), (-4.9118503598, -0.9176553403), (-5.9675951342, -0.6227425745))
            ThreePointArc((-5.9675951342, -0.6227425745), (-5.8871387531, -1.158273414), (-5.7587240211, -1.6843686202))
        make_face()
        with BuildLine():
            ThreePointArc((-5.8293856058, 1.4206559961), (-4.882962136, 1.1483711934), (-3.9322703511, 0.8913857306))
            ThreePointArc((-3.9322703511, 0.8913857306), (-4.7126148613, 1.6612123432), (-5.479460273, 2.4444866775))
            ThreePointArc((-5.479460273, 2.4444866775), (-5.6775484228, 1.9404751755), (-5.8293856058, 1.4206559961))
        make_face()
        with BuildLine():
            ThreePointArc((-4.338068025, 4.1450169856), (-3.6545836588, 3.4359996944), (-2.9597531533, 2.7380978628))
            ThreePointArc((-2.9597531533, 2.7380978628), (-3.2506380165, 3.794959521), (-3.5231084567, 4.8567176985))
            ThreePointArc((-3.5231084567, 4.8567176985), (-3.9466635776, 4.5192750088), (-4.338068025, 4.1450169856))
        make_face()
        with BuildLine():
            ThreePointArc((-1.1941724883, 3.8511388839), (-0.9176553403, 4.9118503598), (-0.6227425745, 5.9675951342))
            ThreePointArc((-0.6227425745, 5.9675951342), (-1.158273414, 5.8871387531), (-1.6843686202, 5.7587240211))
            ThreePointArc((-1.6843686202, 5.7587240211), (-1.4469624415, 4.8029548522), (-1.1941724883, 3.8511388839))
        make_face()
        with BuildLine():
            ThreePointArc((-3.5231084567, 4.8567176985), (-2.642509835, 5.3867561456), (-1.6843686202, 5.7587240211))
            ThreePointArc((-1.6843686202, 5.7587240211), (-3.2946158269, 23), (0, 40))
            Line((0, 40), (-1.8896710779, 40.6550902361))
            ThreePointArc((-1.8896710779, 40.6550902361), (-5.3028149221, 22.8743757747), (-3.5231084567, 4.8567176985))
        make_face()
        with BuildLine():
            ThreePointArc((-0.6227425745, 5.9675951342), (0.4048974259, 5.9863225836), (1.4206559961, 5.8293856058))
            ThreePointArc((1.4206559961, 5.8293856058), (8.6467789982, 21.5658922005), (20, 34.6410161514))
            Line((20, 34.6410161514), (18.6910419598, 36.1531764765))
            ThreePointArc((18.6910419598, 36.1531764765), (6.8448154533, 22.4611979777), (-0.6227425745, 5.9675951342))
        make_face()
        with BuildLine():
            ThreePointArc((2.4444866775, 5.479460273), (3.3438127486, 4.9818587196), (4.1450169856, 4.338068025))
            ThreePointArc((4.1450169856, 4.338068025), (18.2712763736, 14.3532210018), (34.6410161514, 20))
            Line((34.6410161514, 20), (34.2635053987, 21.9640482763))
            ThreePointArc((34.2635053987, 21.9640482763), (17.1583830556, 16.0295603214), (2.4444866775, 5.479460273))
        make_face()
        with BuildLine():
            ThreePointArc((4.8567176985, 3.5231084567), (5.3867561456, 2.642509835), (5.7587240211, 1.6843686202))
            ThreePointArc((5.7587240211, 1.6843686202), (23, 3.2946158269), (40, 0))
            Line((40, 0), (40.6550902361, 1.8896710779))
            ThreePointArc((40.6550902361, 1.8896710779), (22.8743757747, 5.3028149221), (4.8567176985, 3.5231084567))
        make_face()
        with BuildLine():
            ThreePointArc((5.9675951342, 0.6227425745), (5.991893307, 0.311792555), (6, 0))
            ThreePointArc((6, 0), (5.9571937032, -0.715432165), (5.8293856058, -1.4206559961))
            ThreePointArc((5.8293856058, -1.4206559961), (21.5658922005, -8.6467789982), (34.6410161514, -20))
            Line((34.6410161514, -20), (36.1531764765, -18.6910419598))
            ThreePointArc((36.1531764765, -18.6910419598), (22.4611979777, -6.8448154533), (5.9675951342, 0.6227425745))
        make_face()
        with BuildLine():
            ThreePointArc((1.8896710779, -40.6550902361), (5.3028149221, -22.8743757747), (3.5231084567, -4.8567176985))
            ThreePointArc((3.5231084567, -4.8567176985), (2.642509835, -5.3867561456), (1.6843686202, -5.7587240211))
            ThreePointArc((1.6843686202, -5.7587240211), (3.2946158269, -23), (0, -40))
            Line((0, -40), (1.8896710779, -40.6550902361))
        make_face()
        with BuildLine():
            ThreePointArc((-18.6910419598, -36.1531764765), (-6.8448154533, -22.4611979777), (0.6227425745, -5.9675951342))
            ThreePointArc((0.6227425745, -5.9675951342), (-0.4048974259, -5.9863225836), (-1.4206559961, -5.8293856058))
            ThreePointArc((-1.4206559961, -5.8293856058), (-8.6467789982, -21.5658922005), (-20, -34.6410161514))
            Line((-20, -34.6410161514), (-18.6910419598, -36.1531764765))
        make_face()
        with BuildLine():
            ThreePointArc((-34.2635053987, -21.9640482763), (-17.1583830556, -16.0295603214), (-2.4444866775, -5.479460273))
            ThreePointArc((-2.4444866775, -5.479460273), (-3.3438127486, -4.9818587196), (-4.1450169856, -4.338068025))
            ThreePointArc((-4.1450169856, -4.338068025), (-18.2712763736, -14.3532210018), (-34.6410161514, -20))
            Line((-34.6410161514, -20), (-34.2635053987, -21.9640482763))
        make_face()
        with BuildLine():
            ThreePointArc((-5.479460273, 2.4444866775), (-4.9818587196, 3.3438127486), (-4.338068025, 4.1450169856))
            ThreePointArc((-4.338068025, 4.1450169856), (-14.3532210018, 18.2712763736), (-20, 34.6410161514))
            Line((-20, 34.6410161514), (-21.9640482763, 34.2635053987))
            ThreePointArc((-21.9640482763, 34.2635053987), (-16.0295603214, 17.1583830556), (-5.479460273, 2.4444866775))
        make_face()
        with BuildLine():
            ThreePointArc((21.9640482763, -34.2635053987), (16.0295603214, -17.1583830556), (5.479460273, -2.4444866775))
            ThreePointArc((5.479460273, -2.4444866775), (4.9818587196, -3.3438127486), (4.338068025, -4.1450169856))
            ThreePointArc((4.338068025, -4.1450169856), (14.3532210018, -18.2712763736), (20, -34.6410161514))
            Line((20, -34.6410161514), (21.9640482763, -34.2635053987))
        make_face()
        with BuildLine():
            ThreePointArc((-4.8567176985, -3.5231084567), (-5.3867561456, -2.642509835), (-5.7587240211, -1.6843686202))
            ThreePointArc((-5.7587240211, -1.6843686202), (-23, -3.2946158269), (-40, 0))
            Line((-40, 0), (-40.6550902361, -1.8896710779))
            ThreePointArc((-40.6550902361, -1.8896710779), (-22.8743757747, -5.3028149221), (-4.8567176985, -3.5231084567))
        make_face()
        with BuildLine():
            ThreePointArc((-5.9675951342, -0.6227425745), (-5.9863225836, 0.4048974259), (-5.8293856058, 1.4206559961))
            ThreePointArc((-5.8293856058, 1.4206559961), (-21.5658922005, 8.6467789982), (-34.6410161514, 20))
            Line((-34.6410161514, 20), (-36.1531764765, 18.6910419598))
            ThreePointArc((-36.1531764765, 18.6910419598), (-22.4611979777, 6.8448154533), (-5.9675951342, -0.6227425745))
        make_face()
    extrude(amount=F1_DEPTH)

    # F2 (on face) → F3 (cut)
    with BuildSketch(Plane(origin=(0, 0, 0), x_dir=(1, 0, 0), z_dir=(0, 0, -1))):
        Circle(F2_R)
    extrude(amount=-F3_DEPTH, mode=Mode.SUBTRACT)

    # F4 (on face) → F5 (join)
    with BuildSketch(Plane.XY.offset(51.9)):
        Circle(F4_R)
    extrude(amount=F5_DEPTH)

    # F6 (on face) → F7 (cut)
    with BuildSketch(Plane.XY.offset(111.9)):
        with BuildLine():
            Line((-1, 4.8989794856), (-1, 2))
            Line((-1, 2), (1, 2))
            Line((1, 2), (1, 4.8989794856))
            ThreePointArc((1, 4.8989794856), (0, 5), (-1, 4.8989794856))
        make_face()
        with BuildLine():
            Line((-2, 1), (-4.8989794856, 1))
            ThreePointArc((-4.8989794856, 1), (-5, 0), (-4.8989794856, -1))
            Line((-4.8989794856, -1), (-2, -1))
            Line((-2, -1), (-2, 1))
        make_face()
        with BuildLine():
            Line((-1, -2), (-1, -4.8989794856))
            ThreePointArc((-1, -4.8989794856), (0, -5), (1, -4.8989794856))
            Line((1, -4.8989794856), (1, -2))
            Line((1, -2), (-1, -2))
        make_face()
        with BuildLine():
            ThreePointArc((5, 0), (4.974680765, 0.50254481), (4.8989794856, 1))
            Line((4.8989794856, 1), (2, 1))
            Line((2, 1), (2, -1))
            Line((2, -1), (4.8989794856, -1))
            ThreePointArc((4.8989794856, -1), (4.974680765, -0.50254481), (5, 0))
        make_face()
    extrude(amount=-F7_DEPTH, mode=Mode.SUBTRACT)


solid = f1.part
